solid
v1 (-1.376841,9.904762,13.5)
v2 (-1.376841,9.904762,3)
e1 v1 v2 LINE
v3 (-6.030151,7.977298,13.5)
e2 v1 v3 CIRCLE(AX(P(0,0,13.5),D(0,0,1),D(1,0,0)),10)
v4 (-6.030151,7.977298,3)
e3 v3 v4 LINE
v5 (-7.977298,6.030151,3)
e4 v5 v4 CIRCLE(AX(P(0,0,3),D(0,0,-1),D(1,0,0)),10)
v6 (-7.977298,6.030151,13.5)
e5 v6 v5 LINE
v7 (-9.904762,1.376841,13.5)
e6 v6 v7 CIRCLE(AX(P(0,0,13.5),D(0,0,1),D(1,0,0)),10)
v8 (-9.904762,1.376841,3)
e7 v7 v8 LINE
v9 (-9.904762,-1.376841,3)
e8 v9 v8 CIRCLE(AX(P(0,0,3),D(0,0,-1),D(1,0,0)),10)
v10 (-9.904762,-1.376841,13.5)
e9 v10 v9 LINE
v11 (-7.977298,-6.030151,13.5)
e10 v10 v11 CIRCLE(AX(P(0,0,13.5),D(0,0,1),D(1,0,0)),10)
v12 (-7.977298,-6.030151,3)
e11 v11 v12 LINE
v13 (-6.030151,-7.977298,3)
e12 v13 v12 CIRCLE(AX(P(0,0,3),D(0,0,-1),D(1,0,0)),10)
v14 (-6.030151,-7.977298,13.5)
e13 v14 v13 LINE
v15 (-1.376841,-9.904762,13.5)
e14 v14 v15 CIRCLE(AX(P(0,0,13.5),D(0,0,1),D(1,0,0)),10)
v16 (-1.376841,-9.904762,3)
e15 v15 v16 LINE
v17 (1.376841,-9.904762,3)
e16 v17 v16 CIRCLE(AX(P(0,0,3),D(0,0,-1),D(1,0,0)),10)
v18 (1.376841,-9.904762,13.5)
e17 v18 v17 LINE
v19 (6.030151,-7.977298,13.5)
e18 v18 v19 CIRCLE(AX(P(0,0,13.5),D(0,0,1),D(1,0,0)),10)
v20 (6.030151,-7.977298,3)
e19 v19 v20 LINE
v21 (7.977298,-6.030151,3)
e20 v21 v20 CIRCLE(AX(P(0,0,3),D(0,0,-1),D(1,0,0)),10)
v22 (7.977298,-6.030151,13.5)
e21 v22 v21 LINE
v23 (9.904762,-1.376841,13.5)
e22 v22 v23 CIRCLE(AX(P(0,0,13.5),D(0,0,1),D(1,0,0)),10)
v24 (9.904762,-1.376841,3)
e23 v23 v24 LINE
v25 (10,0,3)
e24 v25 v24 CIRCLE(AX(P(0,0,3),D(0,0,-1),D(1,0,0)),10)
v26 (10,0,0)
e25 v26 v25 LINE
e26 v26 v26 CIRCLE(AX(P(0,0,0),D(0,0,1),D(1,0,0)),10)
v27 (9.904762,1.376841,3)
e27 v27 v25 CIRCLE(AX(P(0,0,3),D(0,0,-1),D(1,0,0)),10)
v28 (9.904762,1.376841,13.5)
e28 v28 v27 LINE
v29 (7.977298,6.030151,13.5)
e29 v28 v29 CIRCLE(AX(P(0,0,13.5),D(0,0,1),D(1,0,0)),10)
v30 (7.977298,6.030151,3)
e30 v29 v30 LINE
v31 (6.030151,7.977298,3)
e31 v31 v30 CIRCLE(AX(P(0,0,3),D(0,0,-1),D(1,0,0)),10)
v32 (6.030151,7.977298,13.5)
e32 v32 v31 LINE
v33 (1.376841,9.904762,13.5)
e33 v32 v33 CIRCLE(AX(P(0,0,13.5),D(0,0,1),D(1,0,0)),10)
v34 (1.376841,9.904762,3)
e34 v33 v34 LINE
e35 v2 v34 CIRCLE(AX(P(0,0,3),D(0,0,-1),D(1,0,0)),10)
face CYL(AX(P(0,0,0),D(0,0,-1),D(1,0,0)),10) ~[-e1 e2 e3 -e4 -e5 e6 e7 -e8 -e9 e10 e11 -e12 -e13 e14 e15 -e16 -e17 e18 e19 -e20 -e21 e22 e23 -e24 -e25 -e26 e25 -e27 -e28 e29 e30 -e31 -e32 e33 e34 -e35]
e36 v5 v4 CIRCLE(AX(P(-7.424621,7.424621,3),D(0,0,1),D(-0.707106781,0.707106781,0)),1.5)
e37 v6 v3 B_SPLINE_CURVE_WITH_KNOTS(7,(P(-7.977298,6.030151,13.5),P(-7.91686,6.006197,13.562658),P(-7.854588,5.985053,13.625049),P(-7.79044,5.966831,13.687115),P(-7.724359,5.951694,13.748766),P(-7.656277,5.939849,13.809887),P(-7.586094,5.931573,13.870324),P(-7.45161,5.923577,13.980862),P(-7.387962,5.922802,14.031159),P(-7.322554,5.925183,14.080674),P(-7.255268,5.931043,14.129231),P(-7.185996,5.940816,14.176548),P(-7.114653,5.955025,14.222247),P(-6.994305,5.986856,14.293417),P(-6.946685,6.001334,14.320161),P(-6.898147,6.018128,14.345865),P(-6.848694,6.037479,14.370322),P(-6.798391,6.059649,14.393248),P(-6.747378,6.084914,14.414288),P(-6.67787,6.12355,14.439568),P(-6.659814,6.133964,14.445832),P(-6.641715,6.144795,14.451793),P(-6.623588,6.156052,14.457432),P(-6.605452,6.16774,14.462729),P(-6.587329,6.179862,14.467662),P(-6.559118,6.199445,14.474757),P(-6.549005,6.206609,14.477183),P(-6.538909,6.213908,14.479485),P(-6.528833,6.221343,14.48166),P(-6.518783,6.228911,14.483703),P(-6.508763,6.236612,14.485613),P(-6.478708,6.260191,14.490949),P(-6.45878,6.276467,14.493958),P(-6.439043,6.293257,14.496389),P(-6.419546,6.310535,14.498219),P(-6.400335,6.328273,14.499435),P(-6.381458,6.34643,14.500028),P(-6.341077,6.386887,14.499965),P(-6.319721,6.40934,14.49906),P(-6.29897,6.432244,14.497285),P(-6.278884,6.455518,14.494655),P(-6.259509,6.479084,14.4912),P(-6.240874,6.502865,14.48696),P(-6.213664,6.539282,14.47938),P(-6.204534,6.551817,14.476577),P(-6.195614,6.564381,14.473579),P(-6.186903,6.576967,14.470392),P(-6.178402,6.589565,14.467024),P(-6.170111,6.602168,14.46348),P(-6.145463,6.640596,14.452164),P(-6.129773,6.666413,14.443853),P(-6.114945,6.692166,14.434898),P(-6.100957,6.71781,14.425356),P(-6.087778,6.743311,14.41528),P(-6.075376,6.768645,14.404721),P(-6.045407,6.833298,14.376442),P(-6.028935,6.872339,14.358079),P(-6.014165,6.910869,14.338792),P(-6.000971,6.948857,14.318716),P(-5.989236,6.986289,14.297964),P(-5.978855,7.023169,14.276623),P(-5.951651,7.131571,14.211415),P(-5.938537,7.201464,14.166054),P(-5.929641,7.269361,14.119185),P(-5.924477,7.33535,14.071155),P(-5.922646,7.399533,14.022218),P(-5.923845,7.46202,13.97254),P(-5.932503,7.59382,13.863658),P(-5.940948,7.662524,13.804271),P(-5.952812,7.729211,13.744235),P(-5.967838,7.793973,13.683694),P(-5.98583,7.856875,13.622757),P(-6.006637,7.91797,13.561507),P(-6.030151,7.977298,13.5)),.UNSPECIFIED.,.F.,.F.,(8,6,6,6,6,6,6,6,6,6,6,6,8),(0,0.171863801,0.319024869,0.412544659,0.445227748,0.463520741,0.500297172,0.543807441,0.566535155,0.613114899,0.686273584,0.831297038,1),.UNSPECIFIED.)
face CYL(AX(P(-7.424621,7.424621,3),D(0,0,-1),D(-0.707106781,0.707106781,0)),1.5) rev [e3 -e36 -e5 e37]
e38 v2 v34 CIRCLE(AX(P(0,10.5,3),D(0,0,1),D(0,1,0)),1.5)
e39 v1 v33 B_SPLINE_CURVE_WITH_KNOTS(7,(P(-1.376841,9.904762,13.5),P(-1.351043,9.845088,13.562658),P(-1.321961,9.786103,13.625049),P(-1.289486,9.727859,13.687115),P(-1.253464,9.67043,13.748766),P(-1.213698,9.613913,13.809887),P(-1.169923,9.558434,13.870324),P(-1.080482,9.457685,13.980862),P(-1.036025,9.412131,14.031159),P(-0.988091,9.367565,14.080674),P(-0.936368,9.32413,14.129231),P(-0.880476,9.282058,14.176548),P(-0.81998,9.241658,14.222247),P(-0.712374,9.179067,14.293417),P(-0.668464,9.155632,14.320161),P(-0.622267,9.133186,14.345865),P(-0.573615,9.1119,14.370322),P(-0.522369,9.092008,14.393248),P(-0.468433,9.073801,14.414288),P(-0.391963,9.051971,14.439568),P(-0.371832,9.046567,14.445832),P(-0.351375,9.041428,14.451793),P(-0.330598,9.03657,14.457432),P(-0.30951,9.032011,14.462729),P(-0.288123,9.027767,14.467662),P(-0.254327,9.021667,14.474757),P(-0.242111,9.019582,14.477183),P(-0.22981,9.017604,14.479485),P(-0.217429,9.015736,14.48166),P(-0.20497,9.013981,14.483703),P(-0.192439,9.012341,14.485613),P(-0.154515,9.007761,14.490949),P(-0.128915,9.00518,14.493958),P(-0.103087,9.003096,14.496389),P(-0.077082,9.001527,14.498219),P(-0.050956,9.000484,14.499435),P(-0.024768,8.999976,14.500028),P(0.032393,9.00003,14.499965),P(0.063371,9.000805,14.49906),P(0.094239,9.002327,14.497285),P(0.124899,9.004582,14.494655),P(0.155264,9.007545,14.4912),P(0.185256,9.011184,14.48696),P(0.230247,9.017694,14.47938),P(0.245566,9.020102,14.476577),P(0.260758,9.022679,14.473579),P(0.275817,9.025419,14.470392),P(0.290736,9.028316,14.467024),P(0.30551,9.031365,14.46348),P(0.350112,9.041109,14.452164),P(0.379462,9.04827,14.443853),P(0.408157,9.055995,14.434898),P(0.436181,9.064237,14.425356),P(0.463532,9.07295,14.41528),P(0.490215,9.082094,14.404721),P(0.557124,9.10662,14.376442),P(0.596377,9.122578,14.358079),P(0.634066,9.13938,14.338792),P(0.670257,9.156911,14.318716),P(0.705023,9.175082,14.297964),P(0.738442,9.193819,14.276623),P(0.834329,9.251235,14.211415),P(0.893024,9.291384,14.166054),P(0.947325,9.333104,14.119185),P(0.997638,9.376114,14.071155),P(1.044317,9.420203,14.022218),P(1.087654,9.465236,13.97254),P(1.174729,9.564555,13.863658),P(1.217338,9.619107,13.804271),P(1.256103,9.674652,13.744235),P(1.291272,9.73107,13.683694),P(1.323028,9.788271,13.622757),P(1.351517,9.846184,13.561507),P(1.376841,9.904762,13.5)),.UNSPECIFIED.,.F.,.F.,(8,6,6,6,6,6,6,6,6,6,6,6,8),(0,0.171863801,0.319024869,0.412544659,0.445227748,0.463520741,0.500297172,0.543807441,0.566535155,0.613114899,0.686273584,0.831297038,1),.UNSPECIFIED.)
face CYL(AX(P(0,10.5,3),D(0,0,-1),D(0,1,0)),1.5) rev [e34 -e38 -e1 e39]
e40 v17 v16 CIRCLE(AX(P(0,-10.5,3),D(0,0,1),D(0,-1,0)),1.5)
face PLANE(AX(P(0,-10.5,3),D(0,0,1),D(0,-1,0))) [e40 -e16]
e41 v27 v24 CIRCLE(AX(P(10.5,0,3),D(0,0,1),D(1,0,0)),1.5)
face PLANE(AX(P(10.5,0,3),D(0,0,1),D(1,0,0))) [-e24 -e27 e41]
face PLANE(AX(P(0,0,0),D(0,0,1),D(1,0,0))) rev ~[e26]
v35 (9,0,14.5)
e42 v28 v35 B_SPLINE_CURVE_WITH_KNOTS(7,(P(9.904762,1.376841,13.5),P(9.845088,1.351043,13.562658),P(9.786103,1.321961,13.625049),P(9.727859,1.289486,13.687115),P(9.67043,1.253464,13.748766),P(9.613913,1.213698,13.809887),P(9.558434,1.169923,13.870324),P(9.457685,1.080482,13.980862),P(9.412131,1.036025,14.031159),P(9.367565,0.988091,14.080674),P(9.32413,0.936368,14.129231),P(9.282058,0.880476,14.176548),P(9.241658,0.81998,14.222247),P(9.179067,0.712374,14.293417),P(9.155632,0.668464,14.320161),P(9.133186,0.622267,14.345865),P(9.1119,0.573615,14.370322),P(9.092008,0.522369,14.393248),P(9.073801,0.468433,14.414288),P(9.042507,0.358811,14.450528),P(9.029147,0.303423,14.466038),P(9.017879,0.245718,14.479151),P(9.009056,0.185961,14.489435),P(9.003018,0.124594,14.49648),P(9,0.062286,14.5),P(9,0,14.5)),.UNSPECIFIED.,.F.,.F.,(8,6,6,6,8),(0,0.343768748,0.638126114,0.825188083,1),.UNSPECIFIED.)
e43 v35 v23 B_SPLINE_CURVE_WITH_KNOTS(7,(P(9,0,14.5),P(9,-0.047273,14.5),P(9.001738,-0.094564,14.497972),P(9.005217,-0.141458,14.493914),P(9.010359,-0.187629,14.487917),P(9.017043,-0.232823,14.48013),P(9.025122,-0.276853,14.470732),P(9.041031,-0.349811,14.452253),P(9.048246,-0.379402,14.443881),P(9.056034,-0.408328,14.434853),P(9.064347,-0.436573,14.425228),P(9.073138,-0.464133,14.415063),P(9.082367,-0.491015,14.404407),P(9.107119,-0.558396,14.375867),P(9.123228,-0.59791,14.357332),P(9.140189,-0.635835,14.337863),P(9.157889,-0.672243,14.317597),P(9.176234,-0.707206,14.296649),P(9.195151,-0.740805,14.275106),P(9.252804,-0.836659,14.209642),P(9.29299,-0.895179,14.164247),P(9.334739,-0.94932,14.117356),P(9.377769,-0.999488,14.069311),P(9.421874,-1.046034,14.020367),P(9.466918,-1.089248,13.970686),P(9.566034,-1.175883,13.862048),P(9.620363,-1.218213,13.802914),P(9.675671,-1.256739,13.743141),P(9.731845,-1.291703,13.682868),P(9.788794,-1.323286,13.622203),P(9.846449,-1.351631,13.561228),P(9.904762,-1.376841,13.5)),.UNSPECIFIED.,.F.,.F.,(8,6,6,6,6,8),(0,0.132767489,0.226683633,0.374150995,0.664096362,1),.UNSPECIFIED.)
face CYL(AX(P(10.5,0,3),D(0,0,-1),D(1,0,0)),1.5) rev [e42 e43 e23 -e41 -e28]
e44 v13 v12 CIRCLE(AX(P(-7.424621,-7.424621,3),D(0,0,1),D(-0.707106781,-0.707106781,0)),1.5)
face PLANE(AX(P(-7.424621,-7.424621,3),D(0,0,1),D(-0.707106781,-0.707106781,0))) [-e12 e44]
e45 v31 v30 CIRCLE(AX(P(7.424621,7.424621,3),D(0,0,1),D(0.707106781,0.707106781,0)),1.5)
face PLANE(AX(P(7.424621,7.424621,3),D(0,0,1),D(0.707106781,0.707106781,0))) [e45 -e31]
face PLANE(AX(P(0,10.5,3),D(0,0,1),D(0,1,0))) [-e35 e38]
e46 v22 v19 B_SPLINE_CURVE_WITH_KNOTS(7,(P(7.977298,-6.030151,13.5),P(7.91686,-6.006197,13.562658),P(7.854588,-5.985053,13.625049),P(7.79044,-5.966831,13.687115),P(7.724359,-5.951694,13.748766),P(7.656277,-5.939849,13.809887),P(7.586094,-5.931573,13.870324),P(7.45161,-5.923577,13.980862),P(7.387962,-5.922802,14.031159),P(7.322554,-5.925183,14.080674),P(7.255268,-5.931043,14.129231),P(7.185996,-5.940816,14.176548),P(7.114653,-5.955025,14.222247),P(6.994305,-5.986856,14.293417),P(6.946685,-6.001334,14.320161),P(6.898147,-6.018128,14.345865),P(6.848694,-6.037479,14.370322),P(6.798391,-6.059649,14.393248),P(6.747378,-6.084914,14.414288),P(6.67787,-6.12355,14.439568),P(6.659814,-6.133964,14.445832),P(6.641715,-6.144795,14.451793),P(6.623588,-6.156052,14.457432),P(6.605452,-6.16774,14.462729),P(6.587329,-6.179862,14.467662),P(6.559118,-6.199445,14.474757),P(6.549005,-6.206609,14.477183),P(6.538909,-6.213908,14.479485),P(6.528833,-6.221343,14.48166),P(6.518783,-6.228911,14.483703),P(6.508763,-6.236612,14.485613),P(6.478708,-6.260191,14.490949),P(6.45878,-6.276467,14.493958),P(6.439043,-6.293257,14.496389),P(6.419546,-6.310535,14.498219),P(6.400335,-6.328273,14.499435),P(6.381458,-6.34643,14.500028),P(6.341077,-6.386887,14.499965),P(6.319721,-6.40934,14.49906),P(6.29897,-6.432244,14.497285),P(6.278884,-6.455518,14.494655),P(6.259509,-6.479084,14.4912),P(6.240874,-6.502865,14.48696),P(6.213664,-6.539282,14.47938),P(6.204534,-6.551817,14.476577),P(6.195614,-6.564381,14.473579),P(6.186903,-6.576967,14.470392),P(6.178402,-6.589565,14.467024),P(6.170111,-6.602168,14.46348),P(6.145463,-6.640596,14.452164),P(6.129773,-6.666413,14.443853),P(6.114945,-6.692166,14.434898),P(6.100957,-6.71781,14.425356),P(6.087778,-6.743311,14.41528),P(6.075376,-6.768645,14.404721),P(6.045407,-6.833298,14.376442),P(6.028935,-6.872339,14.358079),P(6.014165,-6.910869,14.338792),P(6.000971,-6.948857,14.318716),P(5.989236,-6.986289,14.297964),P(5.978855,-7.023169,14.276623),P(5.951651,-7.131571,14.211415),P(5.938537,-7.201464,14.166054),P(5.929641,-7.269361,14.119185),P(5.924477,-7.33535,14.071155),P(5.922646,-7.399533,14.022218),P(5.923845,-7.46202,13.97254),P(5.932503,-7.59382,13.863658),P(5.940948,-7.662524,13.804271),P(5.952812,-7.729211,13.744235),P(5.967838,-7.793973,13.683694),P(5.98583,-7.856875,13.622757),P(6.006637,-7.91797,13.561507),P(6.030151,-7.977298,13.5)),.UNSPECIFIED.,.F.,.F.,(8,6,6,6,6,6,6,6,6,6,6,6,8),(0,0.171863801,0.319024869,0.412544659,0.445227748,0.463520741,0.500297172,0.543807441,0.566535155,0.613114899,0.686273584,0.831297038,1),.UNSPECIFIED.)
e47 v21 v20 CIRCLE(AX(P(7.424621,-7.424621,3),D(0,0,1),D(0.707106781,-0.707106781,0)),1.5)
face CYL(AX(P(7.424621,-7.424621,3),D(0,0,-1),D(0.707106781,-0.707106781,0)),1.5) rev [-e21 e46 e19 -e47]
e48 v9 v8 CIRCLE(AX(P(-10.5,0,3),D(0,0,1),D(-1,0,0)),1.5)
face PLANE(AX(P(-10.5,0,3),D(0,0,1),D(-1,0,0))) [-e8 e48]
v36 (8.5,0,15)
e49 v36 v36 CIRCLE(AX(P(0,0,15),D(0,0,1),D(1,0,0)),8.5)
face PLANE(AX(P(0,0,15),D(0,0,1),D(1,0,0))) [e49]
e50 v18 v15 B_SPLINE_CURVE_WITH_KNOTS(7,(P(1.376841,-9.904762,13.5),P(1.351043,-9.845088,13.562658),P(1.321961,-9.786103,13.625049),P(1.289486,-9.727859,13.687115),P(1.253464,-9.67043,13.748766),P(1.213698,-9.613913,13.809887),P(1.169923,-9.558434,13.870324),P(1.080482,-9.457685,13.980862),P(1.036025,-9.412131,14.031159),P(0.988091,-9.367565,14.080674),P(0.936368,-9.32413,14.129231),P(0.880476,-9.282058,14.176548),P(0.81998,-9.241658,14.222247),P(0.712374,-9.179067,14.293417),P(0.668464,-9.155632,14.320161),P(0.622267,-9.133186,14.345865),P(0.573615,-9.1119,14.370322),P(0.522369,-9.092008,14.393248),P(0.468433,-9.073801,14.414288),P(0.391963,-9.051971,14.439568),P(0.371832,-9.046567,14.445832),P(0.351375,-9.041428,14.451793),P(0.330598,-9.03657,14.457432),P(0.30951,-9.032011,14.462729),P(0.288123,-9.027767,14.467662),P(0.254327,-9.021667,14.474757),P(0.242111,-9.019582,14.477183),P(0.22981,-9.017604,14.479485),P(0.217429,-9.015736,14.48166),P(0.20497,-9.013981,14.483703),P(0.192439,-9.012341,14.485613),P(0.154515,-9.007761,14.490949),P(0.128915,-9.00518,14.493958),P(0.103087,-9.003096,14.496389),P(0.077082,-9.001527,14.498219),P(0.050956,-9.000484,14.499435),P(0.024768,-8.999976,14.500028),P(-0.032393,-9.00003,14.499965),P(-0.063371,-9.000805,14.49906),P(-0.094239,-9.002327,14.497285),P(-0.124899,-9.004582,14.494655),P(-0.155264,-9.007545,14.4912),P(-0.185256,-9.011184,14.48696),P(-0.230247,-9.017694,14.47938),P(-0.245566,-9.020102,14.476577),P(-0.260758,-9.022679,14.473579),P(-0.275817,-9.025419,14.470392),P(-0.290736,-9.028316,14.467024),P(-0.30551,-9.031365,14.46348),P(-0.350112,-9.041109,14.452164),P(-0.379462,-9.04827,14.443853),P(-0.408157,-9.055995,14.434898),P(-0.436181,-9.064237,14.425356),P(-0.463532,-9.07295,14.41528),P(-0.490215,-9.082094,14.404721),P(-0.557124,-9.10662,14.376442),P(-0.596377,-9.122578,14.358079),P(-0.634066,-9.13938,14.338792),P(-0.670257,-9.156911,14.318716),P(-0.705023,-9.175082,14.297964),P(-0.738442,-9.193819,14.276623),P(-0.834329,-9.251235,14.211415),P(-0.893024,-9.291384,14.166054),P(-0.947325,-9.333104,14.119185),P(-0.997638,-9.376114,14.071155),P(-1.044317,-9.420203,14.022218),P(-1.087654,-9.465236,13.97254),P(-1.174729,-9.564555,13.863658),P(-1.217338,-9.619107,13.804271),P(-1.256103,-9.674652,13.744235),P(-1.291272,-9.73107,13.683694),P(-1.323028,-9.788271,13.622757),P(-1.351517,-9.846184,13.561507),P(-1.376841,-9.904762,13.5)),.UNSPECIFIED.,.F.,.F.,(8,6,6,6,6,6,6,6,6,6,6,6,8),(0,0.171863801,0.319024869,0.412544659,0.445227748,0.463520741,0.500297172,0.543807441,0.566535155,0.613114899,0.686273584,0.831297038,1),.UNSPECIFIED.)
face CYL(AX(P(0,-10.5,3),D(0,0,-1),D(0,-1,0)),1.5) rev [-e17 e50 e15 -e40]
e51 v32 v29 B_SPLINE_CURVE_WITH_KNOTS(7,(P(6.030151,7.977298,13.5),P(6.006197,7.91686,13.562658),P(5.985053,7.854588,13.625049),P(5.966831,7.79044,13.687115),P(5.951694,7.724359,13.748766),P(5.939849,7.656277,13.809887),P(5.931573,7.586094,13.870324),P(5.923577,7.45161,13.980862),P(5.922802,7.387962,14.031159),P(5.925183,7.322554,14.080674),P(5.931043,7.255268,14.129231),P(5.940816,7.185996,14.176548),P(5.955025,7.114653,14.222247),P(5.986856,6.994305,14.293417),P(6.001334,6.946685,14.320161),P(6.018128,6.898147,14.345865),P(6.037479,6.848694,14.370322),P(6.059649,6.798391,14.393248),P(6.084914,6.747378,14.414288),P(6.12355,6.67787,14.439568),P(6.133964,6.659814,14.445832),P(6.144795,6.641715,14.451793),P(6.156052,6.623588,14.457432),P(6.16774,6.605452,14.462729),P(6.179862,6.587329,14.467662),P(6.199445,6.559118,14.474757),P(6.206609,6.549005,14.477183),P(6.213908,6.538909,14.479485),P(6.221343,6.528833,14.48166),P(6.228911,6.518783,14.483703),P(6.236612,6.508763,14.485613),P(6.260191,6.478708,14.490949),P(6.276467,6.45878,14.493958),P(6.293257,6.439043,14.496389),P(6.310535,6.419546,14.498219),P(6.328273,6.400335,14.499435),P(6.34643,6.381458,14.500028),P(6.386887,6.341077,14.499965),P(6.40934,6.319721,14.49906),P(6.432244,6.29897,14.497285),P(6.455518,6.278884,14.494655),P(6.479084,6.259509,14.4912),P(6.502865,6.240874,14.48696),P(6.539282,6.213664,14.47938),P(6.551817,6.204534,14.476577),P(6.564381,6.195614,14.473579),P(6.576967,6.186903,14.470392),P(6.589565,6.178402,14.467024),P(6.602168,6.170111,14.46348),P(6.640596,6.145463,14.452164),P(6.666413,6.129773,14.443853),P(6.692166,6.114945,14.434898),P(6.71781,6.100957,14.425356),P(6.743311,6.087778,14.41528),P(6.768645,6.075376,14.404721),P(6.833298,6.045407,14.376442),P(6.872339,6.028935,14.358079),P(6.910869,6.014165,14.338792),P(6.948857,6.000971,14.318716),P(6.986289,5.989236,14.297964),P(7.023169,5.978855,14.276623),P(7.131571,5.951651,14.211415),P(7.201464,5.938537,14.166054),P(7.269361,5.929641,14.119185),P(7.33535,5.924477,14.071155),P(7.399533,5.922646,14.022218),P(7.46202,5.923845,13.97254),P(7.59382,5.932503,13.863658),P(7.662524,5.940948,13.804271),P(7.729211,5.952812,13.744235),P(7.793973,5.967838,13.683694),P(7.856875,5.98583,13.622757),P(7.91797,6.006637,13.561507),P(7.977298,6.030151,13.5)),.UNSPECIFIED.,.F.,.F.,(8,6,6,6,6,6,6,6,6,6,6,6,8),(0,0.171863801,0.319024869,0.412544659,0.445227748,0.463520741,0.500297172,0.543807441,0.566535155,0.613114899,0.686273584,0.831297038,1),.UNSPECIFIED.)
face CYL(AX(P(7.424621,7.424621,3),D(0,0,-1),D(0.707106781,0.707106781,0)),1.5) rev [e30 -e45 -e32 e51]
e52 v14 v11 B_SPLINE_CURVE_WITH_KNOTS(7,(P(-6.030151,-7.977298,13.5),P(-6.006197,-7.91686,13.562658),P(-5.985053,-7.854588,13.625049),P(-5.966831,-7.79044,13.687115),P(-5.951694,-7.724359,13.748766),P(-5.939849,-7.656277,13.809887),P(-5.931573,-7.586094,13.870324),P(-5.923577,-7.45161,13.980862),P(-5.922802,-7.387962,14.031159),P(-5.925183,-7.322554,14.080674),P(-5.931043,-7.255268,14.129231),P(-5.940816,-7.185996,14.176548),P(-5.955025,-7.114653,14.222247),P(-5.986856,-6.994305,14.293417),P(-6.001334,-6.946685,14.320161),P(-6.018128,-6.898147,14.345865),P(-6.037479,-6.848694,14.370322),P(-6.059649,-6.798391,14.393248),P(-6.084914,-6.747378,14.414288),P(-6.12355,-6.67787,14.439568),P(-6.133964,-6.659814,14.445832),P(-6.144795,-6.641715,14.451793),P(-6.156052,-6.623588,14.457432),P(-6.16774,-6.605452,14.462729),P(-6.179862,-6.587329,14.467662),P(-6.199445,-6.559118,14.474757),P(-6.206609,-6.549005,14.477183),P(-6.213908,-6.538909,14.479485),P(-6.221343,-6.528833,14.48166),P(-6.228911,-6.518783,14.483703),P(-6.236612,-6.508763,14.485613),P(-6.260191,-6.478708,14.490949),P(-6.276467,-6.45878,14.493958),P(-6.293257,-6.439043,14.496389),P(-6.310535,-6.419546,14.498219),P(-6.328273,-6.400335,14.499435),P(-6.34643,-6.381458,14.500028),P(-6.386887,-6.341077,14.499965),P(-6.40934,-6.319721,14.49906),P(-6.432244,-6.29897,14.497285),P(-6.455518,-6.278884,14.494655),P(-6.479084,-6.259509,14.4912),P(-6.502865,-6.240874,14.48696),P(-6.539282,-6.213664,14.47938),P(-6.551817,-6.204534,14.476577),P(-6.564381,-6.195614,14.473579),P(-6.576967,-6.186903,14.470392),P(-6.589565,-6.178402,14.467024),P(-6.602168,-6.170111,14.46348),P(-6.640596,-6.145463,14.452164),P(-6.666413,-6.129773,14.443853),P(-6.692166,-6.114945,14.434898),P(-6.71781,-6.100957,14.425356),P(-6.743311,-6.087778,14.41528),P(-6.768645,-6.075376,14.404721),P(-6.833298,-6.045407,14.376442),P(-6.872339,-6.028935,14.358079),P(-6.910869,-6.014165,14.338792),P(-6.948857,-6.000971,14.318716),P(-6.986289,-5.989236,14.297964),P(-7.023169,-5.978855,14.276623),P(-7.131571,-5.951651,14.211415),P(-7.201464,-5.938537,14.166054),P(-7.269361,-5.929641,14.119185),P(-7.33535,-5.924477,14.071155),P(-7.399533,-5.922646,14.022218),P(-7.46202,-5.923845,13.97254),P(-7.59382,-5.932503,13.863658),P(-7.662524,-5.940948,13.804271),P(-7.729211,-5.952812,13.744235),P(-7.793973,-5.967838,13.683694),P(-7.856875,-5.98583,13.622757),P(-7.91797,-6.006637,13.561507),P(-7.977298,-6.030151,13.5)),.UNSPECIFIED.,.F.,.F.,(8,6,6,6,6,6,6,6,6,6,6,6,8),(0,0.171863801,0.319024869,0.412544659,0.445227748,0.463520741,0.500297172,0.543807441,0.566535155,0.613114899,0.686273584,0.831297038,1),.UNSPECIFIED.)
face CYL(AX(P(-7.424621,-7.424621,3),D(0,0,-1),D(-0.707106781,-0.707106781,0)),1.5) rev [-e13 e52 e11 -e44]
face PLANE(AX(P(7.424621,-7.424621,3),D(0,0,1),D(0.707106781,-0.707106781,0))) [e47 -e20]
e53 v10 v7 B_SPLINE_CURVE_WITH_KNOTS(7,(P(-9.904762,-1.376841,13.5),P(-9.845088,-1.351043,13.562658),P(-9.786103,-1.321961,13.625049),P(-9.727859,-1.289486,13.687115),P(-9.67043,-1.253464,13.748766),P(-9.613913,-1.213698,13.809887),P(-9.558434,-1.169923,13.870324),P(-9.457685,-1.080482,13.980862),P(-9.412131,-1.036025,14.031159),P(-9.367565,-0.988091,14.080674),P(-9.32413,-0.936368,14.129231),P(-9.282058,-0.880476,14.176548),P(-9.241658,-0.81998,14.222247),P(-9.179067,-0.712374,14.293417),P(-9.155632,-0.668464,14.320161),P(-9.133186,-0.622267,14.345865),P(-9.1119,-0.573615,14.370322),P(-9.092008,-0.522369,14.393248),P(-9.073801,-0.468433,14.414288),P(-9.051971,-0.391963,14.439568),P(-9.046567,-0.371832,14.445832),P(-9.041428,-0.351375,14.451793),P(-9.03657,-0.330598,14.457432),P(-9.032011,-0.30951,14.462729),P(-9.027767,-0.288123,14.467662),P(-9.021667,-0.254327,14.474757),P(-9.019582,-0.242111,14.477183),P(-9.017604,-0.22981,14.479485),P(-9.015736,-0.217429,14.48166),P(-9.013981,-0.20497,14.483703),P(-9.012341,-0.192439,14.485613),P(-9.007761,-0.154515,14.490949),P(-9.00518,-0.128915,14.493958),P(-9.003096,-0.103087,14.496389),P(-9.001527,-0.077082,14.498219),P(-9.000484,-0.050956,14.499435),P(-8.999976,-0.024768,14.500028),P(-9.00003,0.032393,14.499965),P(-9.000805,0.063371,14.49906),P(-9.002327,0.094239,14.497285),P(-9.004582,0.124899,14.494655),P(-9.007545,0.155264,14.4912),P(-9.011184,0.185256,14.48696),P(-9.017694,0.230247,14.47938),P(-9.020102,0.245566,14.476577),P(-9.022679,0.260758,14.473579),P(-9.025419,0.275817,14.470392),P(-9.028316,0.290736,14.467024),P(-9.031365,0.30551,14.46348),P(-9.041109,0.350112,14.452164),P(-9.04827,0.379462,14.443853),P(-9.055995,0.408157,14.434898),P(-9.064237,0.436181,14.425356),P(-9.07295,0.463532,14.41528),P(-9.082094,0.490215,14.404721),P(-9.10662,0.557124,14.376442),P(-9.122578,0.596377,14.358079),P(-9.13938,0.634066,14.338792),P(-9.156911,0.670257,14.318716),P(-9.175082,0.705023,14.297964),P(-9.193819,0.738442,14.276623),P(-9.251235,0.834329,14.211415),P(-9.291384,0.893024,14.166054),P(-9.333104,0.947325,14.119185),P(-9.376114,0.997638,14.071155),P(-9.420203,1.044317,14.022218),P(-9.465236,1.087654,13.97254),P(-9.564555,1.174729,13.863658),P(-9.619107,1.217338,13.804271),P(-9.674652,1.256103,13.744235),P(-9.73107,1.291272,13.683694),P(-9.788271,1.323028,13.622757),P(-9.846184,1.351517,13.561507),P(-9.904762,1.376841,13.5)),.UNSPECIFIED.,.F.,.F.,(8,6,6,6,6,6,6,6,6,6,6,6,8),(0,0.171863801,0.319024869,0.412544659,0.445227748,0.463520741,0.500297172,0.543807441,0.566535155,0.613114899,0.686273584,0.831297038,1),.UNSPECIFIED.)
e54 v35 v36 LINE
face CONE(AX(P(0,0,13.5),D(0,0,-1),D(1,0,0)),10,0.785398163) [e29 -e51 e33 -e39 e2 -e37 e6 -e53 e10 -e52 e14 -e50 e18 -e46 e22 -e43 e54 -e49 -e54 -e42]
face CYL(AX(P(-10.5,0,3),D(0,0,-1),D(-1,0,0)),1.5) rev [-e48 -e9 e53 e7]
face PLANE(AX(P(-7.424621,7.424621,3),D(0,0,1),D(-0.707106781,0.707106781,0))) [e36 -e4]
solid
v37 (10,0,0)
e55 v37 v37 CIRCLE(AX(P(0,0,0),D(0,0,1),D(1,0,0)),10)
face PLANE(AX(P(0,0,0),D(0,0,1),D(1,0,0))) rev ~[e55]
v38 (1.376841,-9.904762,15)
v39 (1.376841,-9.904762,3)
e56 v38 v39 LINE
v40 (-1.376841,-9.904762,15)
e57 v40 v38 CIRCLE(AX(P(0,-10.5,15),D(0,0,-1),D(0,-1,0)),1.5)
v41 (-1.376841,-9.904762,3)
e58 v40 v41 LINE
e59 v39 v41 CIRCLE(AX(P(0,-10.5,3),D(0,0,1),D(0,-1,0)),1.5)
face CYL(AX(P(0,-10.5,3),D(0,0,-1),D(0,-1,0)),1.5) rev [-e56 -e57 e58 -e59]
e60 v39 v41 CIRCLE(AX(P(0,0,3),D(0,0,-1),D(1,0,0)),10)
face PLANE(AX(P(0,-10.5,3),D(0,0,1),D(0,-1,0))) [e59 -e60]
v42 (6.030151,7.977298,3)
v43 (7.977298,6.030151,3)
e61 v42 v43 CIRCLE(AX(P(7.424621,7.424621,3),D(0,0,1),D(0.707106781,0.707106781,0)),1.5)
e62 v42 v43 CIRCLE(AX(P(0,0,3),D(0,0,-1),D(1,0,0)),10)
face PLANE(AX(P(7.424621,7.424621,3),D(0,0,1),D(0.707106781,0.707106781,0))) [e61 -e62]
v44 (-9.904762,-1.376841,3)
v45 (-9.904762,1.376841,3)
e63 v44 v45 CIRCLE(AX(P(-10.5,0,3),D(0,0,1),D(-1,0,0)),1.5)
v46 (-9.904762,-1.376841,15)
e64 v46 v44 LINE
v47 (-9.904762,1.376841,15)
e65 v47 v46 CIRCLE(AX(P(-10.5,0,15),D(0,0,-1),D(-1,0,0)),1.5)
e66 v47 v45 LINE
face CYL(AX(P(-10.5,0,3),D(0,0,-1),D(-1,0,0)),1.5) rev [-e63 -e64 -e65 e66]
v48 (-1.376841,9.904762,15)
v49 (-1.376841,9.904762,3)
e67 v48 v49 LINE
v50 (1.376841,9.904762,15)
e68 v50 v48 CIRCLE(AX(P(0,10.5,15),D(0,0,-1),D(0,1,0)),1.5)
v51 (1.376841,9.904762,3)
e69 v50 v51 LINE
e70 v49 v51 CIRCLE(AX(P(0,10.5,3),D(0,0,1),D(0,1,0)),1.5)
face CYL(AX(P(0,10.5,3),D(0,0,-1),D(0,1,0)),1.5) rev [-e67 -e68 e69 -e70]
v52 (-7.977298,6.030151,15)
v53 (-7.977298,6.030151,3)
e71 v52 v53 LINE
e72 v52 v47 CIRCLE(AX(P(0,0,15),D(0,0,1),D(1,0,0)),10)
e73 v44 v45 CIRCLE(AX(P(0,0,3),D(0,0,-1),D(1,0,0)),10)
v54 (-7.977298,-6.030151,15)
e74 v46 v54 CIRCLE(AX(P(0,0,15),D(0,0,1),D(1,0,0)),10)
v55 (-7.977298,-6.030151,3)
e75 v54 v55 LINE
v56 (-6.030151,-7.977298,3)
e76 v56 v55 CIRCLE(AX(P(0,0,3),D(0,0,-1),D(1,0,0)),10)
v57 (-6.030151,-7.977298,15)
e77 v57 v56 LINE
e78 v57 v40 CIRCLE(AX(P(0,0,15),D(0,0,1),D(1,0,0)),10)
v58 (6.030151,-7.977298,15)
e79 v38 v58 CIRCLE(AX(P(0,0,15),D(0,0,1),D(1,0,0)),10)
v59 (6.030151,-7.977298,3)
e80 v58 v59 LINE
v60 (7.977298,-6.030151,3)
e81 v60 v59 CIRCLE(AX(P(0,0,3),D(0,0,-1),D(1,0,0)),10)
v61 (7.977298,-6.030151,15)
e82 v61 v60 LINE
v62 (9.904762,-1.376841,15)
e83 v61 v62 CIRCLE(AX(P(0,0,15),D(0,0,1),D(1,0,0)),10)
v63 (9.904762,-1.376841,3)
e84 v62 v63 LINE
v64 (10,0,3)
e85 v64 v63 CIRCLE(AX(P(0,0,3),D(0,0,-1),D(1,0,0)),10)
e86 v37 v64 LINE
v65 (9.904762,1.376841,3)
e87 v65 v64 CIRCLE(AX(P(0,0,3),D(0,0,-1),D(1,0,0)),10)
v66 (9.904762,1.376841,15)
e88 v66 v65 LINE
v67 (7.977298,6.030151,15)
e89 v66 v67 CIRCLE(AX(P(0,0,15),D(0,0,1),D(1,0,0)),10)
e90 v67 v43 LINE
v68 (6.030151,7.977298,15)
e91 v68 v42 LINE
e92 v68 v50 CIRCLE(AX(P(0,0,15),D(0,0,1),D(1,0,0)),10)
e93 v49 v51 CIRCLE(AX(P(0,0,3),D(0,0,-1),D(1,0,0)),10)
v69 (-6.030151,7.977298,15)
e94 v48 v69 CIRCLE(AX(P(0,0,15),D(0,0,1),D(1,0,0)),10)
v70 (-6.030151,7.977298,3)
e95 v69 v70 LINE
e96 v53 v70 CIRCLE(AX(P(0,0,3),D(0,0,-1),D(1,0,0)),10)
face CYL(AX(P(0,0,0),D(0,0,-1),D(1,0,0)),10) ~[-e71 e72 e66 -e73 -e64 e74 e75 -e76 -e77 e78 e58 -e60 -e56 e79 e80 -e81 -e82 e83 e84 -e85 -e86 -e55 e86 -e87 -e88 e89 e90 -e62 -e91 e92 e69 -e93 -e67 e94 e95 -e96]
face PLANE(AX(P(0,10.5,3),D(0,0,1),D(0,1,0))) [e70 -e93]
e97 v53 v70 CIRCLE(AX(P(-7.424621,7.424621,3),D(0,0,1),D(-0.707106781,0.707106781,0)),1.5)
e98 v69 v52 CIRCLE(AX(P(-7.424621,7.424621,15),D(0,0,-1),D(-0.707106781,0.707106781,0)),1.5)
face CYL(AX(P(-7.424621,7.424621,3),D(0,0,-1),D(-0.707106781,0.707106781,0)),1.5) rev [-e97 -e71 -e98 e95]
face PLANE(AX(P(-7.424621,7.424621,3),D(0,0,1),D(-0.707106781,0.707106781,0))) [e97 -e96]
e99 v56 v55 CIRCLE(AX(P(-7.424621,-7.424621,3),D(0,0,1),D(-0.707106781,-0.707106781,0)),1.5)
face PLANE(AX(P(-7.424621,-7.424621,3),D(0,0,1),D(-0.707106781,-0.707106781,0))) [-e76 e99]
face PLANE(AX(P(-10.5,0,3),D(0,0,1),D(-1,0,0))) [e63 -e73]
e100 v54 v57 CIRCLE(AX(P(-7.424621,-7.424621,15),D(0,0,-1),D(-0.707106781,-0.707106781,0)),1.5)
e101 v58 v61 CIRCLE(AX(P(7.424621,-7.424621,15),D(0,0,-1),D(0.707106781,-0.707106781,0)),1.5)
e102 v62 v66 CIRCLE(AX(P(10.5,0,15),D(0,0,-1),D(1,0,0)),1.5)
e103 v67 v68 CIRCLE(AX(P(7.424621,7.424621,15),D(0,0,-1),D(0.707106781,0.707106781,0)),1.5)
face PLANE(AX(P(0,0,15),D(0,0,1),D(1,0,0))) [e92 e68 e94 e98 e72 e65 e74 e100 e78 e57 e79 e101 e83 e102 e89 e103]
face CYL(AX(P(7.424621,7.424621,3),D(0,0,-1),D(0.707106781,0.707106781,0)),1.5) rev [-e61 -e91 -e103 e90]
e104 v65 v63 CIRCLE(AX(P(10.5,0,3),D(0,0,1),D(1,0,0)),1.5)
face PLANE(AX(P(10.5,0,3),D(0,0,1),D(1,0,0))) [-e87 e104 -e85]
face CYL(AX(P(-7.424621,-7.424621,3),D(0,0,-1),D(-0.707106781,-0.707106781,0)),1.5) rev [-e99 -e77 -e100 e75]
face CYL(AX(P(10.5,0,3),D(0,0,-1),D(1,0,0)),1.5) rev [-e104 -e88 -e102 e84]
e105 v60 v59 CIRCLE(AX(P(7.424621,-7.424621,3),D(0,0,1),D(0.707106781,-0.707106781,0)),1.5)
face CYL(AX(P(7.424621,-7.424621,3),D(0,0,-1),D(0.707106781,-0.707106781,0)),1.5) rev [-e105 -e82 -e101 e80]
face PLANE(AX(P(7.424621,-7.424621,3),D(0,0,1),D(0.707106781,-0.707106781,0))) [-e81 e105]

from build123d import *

# Parameters (mm, degrees)
CYLINDER001_R     = 1.5
CYLINDER001_DEPTH = 19
ARRAY_COUNT       = 8
CYLINDER_R        = 10
CYLINDER_DEPTH    = 15
CYLINDER002_R     = 1.5
CYLINDER002_DEPTH = 19
ARRAY001_COUNT    = 8
CYLINDER003_R     = 10
CYLINDER003_DEPTH = 15
CHAMFER_SIZE      = 1.5


with BuildPart() as muescas:
    # Cylinder001 → Cylinder001 (new body)
    with BuildSketch(Plane(origin=(10.5, 0, 3), x_dir=(1, 0, 0), z_dir=(0, 0, 1))):
        Circle(CYLINDER001_R)
    extrude(amount=CYLINDER001_DEPTH)

    # Array: muescas ×8 about axis
    array_axis = Axis((0, 0, 0), (0, 0, 1))


with BuildPart() as muescas_1:
    add(muescas.part)
    for i in range(1, ARRAY_COUNT):
        add(muescas.part.rotate(array_axis, i * 360 / ARRAY_COUNT))


with BuildPart() as selector:
    # Cylinder → Cylinder (new body)
    with BuildSketch(Plane.XY):
        Circle(CYLINDER_R)
    extrude(amount=CYLINDER_DEPTH)

    # Cut: cut muescas
    add(muescas_1.part, mode=Mode.SUBTRACT)


with BuildPart() as muescas001:
    # Cylinder002 → Cylinder002 (new body)
    with BuildSketch(Plane(origin=(10.5, 0, 3), x_dir=(1, 0, 0), z_dir=(0, 0, 1))):
        Circle(CYLINDER002_R)
    extrude(amount=CYLINDER002_DEPTH)

    # Array001: muescas001 ×8 about axis
    array001_axis = Axis((0, 0, 0), (0, 0, 1))


with BuildPart() as muescas001_1:
    add(muescas001.part)
    for i in range(1, ARRAY001_COUNT):
        add(muescas001.part.rotate(array001_axis, i * 360 / ARRAY001_COUNT))


with BuildPart() as selector_nuevo:
    # Cylinder003 → Cylinder003 (new body)
    with BuildSketch(Plane.XY):
        Circle(CYLINDER003_R)
    extrude(amount=CYLINDER003_DEPTH)

    # Chamfer
    chamfer_edges = [selector_nuevo.edges().sort_by_distance(p)[0] for p in [
        (-10, 0, 15),
    ]]
    chamfer(chamfer_edges, length=CHAMFER_SIZE)

    # Cut001: cut muescas001
    add(muescas001_1.part, mode=Mode.SUBTRACT)


solid = Compound([selector.part, selector_nuevo.part])
